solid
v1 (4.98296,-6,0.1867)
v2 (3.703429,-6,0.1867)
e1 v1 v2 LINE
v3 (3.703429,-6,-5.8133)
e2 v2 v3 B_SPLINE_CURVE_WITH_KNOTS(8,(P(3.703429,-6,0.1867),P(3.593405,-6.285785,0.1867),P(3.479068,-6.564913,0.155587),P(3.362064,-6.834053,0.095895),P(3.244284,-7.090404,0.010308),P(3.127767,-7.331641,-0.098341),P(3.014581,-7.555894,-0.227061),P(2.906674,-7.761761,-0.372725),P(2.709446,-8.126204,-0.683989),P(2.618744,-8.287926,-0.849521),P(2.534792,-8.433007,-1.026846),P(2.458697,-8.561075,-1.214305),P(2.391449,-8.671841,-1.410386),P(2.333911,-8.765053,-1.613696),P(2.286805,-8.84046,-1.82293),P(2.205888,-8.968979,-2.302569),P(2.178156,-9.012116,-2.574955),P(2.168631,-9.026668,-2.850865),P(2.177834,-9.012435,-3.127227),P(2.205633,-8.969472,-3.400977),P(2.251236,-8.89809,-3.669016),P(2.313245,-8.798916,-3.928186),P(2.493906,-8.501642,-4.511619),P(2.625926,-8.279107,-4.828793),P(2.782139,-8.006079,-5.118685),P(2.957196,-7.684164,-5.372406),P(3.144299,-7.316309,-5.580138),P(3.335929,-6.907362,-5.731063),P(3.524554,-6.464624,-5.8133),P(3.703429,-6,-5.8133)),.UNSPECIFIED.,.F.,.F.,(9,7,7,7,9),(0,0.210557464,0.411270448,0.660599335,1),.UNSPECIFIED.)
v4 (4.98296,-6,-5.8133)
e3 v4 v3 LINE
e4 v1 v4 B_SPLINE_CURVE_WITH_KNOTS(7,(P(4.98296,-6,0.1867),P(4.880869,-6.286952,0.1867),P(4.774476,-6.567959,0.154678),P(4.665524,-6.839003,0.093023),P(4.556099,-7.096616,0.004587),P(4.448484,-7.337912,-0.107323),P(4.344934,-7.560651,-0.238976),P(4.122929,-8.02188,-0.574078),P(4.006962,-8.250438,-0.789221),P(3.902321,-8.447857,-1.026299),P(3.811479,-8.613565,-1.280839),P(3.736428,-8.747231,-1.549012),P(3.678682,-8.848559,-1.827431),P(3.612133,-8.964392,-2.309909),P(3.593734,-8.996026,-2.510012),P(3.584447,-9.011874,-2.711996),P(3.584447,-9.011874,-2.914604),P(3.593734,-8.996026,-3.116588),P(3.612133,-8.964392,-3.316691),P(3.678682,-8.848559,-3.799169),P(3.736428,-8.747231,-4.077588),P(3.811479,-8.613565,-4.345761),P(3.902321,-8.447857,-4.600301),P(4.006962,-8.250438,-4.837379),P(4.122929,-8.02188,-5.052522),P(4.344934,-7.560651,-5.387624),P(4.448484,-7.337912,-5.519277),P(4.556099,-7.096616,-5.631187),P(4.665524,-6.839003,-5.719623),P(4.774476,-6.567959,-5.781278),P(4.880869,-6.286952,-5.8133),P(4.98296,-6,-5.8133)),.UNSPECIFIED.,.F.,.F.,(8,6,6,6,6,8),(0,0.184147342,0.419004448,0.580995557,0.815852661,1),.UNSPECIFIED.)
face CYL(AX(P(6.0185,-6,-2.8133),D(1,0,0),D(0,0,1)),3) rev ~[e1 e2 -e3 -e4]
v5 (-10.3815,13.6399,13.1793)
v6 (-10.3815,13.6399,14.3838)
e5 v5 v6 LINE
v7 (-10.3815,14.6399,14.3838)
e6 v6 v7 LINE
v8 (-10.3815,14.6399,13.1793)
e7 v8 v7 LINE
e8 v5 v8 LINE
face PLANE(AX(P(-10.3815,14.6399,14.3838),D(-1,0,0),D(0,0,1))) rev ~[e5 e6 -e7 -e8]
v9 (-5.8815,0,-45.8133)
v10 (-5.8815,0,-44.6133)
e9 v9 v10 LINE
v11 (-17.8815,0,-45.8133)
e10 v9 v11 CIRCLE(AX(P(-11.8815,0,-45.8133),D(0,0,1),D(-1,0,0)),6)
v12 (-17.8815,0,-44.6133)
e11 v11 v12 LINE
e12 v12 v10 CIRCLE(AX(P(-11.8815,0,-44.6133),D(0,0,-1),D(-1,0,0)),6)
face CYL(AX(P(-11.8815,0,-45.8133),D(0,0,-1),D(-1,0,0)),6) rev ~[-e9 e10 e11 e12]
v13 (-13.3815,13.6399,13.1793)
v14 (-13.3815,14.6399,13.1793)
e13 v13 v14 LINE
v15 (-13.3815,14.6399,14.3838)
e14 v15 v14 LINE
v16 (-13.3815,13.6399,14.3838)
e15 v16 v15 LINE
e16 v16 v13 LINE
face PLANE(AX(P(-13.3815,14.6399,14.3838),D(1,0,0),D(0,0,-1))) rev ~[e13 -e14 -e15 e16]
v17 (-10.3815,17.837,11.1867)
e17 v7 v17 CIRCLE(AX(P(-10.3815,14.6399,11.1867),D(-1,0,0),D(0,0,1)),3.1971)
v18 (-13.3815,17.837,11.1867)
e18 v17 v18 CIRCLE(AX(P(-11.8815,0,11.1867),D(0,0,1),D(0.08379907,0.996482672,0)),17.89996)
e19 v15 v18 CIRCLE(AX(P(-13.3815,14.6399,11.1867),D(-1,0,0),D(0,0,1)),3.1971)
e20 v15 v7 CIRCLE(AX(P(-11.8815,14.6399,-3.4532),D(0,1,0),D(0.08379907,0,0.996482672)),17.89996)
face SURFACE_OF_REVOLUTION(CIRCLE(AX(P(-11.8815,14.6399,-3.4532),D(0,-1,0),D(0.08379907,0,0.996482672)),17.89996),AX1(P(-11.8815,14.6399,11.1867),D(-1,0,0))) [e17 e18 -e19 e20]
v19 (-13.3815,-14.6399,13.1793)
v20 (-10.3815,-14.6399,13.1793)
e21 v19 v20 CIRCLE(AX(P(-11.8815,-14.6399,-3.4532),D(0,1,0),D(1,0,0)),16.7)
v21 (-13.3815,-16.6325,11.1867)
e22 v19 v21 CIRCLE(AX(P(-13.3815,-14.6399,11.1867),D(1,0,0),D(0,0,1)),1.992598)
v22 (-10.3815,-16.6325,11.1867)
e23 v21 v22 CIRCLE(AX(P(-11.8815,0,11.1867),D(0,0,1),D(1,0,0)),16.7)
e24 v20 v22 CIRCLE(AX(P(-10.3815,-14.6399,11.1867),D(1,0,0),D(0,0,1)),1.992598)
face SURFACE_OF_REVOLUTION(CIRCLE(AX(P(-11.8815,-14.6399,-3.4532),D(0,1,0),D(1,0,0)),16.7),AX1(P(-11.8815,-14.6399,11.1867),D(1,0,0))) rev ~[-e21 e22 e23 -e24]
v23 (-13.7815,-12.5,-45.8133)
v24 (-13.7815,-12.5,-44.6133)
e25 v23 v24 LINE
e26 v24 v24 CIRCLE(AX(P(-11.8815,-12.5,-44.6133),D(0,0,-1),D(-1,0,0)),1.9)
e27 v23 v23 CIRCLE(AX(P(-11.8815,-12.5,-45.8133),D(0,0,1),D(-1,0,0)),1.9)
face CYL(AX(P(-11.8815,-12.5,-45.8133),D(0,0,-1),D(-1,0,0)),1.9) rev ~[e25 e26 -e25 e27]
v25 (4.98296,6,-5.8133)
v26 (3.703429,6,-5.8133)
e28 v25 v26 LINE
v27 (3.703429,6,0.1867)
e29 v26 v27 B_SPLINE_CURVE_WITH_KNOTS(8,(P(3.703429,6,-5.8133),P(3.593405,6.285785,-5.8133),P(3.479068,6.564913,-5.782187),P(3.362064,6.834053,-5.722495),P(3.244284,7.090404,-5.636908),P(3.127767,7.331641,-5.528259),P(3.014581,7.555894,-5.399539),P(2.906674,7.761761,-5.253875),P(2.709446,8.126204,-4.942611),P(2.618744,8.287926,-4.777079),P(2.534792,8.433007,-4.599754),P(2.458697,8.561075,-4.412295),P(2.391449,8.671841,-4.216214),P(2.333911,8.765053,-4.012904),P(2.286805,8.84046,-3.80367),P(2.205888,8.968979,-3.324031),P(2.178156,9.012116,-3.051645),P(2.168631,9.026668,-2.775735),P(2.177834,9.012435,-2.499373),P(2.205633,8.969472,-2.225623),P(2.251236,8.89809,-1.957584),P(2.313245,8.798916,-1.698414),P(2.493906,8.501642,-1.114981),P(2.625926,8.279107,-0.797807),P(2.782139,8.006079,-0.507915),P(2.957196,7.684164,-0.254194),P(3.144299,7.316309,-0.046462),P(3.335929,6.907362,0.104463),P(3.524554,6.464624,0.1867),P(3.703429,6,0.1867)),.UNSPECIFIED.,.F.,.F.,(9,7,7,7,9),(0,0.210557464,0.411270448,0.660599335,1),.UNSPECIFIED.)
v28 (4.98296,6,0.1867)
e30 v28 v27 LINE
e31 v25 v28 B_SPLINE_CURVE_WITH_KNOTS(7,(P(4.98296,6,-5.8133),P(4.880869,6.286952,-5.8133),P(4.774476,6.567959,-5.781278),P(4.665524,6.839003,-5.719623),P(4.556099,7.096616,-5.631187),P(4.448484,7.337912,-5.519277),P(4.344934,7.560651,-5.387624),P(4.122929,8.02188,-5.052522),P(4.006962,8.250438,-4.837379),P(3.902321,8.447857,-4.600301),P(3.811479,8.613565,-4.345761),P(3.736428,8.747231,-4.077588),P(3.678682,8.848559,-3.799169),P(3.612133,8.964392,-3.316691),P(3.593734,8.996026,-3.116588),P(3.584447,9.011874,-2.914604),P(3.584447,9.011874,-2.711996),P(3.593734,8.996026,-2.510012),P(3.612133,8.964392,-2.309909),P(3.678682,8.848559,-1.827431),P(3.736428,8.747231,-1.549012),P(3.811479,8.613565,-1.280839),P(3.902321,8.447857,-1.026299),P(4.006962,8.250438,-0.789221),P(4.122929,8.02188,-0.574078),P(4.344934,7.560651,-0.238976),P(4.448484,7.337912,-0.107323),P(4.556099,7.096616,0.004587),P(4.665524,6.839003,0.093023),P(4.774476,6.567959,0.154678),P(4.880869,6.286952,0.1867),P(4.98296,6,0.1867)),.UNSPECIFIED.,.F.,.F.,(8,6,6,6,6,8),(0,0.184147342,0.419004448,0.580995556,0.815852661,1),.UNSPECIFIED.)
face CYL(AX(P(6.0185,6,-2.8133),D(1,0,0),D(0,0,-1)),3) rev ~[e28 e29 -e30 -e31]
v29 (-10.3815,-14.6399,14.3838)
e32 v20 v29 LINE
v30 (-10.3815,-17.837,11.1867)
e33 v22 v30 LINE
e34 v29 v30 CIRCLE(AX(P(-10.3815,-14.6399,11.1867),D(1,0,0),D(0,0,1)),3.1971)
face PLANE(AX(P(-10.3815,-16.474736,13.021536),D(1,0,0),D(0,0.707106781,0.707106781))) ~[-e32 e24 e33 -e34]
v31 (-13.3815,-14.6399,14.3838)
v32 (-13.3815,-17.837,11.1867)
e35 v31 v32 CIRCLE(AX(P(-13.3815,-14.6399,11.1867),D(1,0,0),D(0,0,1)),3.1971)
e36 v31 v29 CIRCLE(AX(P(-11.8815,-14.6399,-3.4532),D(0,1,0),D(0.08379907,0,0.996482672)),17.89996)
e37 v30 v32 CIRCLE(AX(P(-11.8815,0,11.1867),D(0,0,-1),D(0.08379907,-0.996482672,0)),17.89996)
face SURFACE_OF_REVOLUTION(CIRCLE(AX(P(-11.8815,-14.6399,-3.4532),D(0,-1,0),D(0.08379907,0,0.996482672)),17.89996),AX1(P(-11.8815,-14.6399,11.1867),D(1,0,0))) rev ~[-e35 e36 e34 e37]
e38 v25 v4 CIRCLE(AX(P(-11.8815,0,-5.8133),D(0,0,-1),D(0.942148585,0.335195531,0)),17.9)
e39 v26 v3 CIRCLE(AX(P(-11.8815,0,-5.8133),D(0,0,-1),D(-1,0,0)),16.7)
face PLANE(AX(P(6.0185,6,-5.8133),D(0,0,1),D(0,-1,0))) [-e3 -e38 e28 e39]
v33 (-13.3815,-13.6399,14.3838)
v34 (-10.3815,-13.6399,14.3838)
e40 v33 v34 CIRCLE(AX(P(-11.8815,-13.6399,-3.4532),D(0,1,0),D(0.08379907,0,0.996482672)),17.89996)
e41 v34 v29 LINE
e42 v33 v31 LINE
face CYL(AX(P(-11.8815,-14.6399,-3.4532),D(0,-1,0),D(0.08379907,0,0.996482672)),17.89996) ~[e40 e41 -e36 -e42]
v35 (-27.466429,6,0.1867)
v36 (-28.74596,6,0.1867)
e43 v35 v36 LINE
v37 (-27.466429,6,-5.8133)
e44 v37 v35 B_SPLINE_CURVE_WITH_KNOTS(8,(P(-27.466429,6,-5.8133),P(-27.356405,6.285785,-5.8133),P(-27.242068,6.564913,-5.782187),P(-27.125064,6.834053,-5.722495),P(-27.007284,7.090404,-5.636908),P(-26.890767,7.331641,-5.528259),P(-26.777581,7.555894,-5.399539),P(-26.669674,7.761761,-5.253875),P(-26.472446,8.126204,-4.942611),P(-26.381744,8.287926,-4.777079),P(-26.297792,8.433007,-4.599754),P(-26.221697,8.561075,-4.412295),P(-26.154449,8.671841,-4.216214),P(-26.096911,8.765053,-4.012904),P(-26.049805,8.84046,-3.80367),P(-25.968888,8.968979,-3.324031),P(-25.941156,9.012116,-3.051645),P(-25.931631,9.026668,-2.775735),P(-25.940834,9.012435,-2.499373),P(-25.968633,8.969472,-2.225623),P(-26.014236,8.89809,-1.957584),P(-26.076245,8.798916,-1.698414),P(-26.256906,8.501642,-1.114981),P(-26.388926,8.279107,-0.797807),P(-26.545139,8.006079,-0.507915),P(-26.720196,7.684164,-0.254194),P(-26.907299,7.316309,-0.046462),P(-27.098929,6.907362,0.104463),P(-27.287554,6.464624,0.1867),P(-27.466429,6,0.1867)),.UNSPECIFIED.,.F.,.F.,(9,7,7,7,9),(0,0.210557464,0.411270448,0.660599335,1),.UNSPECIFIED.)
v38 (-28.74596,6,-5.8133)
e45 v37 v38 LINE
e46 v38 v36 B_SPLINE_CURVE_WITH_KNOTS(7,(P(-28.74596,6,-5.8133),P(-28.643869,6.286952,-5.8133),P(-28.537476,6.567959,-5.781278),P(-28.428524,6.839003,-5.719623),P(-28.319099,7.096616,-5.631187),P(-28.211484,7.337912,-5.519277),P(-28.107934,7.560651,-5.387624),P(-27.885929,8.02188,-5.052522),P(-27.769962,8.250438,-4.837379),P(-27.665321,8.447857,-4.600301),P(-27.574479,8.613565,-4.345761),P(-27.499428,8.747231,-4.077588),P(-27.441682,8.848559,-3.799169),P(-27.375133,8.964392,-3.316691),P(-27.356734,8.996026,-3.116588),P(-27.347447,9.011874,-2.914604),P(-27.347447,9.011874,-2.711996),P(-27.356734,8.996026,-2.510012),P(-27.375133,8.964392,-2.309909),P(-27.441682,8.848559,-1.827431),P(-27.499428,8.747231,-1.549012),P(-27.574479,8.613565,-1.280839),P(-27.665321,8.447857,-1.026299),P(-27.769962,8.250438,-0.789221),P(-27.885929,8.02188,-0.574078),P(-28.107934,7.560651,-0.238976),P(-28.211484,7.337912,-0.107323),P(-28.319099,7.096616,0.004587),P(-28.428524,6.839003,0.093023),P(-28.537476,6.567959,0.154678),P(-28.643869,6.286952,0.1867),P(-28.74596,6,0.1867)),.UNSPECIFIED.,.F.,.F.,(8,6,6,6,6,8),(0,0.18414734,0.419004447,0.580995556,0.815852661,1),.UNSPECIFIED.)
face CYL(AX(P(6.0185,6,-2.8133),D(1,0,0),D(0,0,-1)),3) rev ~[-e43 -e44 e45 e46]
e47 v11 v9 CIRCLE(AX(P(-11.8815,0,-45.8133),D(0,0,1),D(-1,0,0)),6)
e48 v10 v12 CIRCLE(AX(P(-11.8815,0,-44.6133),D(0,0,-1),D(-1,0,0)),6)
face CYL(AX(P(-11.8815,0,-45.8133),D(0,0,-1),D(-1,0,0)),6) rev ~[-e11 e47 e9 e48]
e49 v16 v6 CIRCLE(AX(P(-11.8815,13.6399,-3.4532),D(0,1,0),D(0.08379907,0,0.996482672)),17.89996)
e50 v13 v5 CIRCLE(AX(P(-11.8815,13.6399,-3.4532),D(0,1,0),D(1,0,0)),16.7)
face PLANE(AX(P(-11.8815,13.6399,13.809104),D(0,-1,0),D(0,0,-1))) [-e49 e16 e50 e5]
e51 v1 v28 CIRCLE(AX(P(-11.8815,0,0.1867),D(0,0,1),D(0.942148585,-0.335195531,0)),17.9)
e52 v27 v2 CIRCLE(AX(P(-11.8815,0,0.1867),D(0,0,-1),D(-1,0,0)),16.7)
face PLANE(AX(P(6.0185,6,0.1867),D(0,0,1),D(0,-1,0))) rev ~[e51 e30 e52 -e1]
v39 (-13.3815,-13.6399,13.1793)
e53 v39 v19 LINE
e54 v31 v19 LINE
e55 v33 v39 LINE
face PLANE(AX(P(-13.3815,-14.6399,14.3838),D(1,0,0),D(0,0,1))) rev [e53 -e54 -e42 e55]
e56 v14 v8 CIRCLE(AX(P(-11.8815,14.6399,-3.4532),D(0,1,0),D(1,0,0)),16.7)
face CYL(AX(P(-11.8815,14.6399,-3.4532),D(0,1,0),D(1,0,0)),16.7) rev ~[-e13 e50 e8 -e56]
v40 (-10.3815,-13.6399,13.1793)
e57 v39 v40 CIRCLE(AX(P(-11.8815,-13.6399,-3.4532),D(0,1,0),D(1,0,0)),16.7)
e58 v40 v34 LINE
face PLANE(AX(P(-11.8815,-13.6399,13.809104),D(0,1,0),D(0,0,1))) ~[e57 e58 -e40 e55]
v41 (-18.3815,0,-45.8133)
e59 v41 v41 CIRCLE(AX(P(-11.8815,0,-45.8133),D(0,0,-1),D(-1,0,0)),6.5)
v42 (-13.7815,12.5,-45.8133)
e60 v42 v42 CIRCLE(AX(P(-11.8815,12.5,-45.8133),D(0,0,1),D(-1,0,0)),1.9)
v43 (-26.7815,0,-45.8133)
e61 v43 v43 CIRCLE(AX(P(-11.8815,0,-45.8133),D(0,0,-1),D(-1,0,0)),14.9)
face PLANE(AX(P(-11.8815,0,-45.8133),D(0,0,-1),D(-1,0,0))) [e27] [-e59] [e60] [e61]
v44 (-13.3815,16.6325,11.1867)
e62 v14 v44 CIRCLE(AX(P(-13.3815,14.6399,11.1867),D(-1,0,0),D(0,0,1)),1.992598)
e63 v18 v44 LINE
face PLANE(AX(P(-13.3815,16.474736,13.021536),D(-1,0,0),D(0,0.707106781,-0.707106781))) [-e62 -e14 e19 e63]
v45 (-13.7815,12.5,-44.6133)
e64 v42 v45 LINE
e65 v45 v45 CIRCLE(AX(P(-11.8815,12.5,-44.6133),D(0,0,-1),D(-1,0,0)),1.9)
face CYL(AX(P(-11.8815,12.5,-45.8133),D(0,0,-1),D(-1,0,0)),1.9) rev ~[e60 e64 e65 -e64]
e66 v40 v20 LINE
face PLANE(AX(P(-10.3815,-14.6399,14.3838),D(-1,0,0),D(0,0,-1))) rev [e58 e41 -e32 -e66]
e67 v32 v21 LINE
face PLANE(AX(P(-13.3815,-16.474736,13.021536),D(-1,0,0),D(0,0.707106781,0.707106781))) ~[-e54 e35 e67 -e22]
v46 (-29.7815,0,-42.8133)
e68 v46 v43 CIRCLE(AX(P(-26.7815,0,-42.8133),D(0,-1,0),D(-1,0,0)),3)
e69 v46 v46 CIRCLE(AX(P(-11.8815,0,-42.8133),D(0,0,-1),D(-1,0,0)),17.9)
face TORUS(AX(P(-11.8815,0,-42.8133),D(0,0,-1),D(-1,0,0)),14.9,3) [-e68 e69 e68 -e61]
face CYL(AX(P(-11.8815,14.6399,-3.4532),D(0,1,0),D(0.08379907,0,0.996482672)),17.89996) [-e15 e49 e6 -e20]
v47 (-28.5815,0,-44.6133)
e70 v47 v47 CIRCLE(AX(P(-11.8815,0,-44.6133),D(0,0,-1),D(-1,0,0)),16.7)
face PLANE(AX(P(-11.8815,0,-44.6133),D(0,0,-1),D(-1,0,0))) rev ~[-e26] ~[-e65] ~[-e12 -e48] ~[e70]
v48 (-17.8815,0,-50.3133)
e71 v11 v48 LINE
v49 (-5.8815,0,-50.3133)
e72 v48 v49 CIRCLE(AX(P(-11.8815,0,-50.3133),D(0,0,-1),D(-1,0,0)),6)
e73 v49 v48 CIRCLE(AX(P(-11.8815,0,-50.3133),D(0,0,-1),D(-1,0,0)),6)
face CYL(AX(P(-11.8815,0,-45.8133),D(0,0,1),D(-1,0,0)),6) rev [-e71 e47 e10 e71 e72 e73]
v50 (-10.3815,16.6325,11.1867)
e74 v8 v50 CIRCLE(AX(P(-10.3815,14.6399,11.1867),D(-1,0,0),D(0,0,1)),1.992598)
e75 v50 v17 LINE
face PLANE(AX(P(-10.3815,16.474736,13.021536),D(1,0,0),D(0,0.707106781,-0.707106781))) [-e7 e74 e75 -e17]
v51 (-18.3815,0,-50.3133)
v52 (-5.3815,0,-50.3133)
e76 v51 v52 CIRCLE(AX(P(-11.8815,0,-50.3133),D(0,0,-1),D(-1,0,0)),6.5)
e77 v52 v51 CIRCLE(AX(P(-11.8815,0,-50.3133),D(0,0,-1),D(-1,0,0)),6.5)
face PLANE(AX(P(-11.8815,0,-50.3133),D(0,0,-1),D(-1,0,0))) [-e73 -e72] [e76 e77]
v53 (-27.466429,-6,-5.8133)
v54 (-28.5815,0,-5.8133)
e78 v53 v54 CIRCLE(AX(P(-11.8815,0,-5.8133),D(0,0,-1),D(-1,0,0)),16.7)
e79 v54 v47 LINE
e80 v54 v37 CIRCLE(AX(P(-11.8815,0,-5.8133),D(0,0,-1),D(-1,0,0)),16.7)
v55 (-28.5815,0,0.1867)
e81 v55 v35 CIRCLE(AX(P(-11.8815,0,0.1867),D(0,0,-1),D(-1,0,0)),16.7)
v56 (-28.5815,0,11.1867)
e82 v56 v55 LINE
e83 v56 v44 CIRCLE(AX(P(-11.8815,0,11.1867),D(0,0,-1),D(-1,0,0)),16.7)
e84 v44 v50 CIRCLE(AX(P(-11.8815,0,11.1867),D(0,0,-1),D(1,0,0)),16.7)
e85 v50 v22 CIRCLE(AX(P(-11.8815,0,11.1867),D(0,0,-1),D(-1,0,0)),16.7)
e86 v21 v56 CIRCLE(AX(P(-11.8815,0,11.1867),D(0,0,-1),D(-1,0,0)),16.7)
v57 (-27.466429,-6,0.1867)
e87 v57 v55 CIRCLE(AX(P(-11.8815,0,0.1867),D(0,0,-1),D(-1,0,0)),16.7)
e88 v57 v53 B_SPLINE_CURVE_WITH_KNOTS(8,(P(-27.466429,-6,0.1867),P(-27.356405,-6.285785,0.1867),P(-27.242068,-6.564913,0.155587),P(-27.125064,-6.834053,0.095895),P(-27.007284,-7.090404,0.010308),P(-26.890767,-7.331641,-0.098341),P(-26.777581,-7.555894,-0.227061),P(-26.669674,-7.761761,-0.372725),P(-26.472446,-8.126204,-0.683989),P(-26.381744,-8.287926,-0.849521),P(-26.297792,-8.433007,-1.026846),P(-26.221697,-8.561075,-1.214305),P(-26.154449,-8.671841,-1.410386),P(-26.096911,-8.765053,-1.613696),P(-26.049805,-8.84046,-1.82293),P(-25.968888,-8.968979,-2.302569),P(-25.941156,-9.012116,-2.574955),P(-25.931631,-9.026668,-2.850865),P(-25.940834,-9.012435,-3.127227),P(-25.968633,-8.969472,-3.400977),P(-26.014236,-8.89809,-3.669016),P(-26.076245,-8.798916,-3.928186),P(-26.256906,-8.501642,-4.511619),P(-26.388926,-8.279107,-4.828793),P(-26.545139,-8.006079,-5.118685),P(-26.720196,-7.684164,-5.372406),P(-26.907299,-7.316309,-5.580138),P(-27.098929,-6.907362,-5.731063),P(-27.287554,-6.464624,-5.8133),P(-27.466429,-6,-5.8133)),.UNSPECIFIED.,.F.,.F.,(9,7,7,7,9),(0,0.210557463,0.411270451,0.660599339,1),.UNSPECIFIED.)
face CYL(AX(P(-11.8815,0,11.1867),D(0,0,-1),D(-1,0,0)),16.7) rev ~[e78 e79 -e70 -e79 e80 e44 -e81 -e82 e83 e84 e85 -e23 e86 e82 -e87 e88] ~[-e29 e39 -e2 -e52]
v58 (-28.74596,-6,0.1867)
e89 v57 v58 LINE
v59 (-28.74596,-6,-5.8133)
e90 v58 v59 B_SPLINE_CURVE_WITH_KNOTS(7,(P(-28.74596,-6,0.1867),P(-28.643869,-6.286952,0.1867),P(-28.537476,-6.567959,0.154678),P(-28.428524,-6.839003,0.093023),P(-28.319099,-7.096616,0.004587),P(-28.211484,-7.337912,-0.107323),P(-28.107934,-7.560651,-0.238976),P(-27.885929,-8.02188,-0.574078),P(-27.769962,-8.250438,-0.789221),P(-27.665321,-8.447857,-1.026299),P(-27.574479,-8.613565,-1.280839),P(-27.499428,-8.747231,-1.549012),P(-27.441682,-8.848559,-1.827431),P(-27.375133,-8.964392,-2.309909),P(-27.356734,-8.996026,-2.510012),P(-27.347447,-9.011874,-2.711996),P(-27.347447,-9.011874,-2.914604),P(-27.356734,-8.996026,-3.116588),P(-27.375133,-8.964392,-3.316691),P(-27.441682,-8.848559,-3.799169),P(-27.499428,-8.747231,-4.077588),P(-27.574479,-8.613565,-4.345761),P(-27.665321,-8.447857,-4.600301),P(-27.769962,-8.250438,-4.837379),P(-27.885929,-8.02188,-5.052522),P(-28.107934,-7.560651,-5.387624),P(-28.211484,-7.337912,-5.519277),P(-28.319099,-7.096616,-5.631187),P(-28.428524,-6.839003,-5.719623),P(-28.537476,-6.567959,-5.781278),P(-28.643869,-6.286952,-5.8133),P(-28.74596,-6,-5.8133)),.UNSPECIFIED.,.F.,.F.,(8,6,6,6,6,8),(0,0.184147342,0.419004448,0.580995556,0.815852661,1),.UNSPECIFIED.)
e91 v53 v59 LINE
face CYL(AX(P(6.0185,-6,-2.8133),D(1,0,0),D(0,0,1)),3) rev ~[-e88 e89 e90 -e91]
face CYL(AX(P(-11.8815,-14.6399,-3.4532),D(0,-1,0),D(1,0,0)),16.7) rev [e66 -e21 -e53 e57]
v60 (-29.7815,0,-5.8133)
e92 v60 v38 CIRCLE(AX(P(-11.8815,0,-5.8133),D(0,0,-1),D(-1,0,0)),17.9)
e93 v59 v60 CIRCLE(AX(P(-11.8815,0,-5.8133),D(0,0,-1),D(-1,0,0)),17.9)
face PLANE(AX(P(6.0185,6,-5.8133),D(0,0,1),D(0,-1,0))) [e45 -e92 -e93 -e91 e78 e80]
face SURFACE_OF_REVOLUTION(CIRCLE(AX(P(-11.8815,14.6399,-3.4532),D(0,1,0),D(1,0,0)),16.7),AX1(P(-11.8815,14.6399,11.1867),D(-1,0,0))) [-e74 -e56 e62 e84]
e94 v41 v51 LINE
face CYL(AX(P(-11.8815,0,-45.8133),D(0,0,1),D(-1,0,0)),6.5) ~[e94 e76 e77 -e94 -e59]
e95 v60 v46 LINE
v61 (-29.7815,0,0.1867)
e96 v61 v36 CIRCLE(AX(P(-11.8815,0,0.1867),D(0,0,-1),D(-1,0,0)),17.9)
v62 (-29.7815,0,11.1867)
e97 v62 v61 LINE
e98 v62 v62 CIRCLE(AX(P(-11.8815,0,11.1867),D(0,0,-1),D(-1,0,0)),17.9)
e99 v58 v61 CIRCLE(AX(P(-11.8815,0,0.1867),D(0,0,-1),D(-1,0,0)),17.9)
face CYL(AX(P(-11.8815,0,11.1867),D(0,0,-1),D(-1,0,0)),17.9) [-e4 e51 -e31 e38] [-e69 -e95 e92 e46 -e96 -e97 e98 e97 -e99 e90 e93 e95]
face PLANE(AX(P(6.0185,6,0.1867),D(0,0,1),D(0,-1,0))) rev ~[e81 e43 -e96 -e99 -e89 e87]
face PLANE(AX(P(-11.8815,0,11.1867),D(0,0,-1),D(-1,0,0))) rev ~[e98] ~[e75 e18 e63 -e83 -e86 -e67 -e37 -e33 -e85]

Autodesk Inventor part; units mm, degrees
ref_plane "YZ Plane" through (0, 0, 0) normal (1, 0, 0) x (0, 1, 0)
ref_plane "XZ Plane" through (0, 0, 0) normal (0, 1, 0) x (-1, 0, 0)
ref_plane "XY Plane" through (0, 0, 0) normal (0, 0, 1) x (1, 0, 0)
sketch "Sketch2" plane through (0, 0, 0) normal (0, 1, 0) x (-1, 0, 0)
  line L0 (29.7815, 11.1867) -> (29.7815, -45.8133)
  line L1 (29.7815, -45.8133) -> (11.8815, -45.8133)
  line L2 (29.7815, 11.1867) -> (28.5815, 11.1867)
  line L3 (28.5815, 11.1867) -> (28.5815, -44.6133)
  line L4 (28.5815, -44.6133) -> (12.6405, -44.6133)
  line L5 (12.6405, -44.6133) -> (11.8815, -44.6133)
  line L6 (11.8815, -44.6133) -> (11.8815, -45.8133)
  point P0 (0, 0)
  dimension "d5" = 57
  dimension "d6" = 17.9
  dimension "d7" = 1.2
  dimension "d8" = 1.2
revolve "Revolution1" add sketch "Sketch2" angle 360 about axis through (-11.8815, 0, -44.6133) along (0, 0, -1)
fillet "Fillet1" radius 3 1 edges at (6.0185, 0, -45.8133)
sketch "Sketch3" plane through (-11.8815, 0, -45.8133) normal (0, 0, -1) x (-1, 0, 0)
  circle A0 centre (0, 0) radius 6.5
  circle A1 centre (0, 0) radius 6
  circle A2 centre (0, 0) radius 12.5
  circle A3 centre (0, 12.5) radius 1.9
  circle A4 centre (0, -12.5) radius 1.9
  line L0 (0, 0) -> (-21.7112, 0)
  point P0 (-11.8815, 0)
  dimension "d17" = 25
  dimension "d11" = 13
  dimension "d12" = 12
  dimension "d18" = 3.8
  dimension "d21" = 360
extrude "Extrusion1" add sketch "Sketch3" along normal blind 4.5 contours A0
extrude "Extrusion2" cut sketch "Sketch3" against normal blind 4.5 contours A1
extrude "Extrusion3" cut sketch "Sketch3" against normal blind 4.5 contours A3 A2 | A2 A3 | A4 A2 | A2 A4
ref_plane "Work Plane1" through (6.0185, 0, -45.8133) normal (1, 0, 0) x (0, 1, 0)
sketch "Sketch4" plane through (6.0185, 0, -45.8133) normal (1, 0, 0) x (0, 1, 0)
  arc A0 (6, 40) -> (6, 46) centre (6, 43) ccw
  line L0 (0, 50.1877) -> (0, 37.5166)
  line L1 (6, 46) -> (0, 46)
  line L2 (6, 40) -> (0, 40)
  arc A1 (-6, 46) -> (-6, 40) centre (-6, 43) ccw
  line L3 (-6, 46) -> (0, 46)
  line L4 (-6, 40) -> (0, 40)
  line L5 (0, 40) -> (0, 0)
  line L6 (14.9, 0) -> (-14.9, 0) projected
  point P0 (0, 45.8133)
  dimension "d25" = 6
  dimension "d27" = 6
  dimension "d29" = 40
extrude "Extrusion4" cut sketch "Sketch4" against normal through all
sketch "Sketch5" plane through (-11.8815, 0, 11.1867) normal (0, 0, 1) x (1, 0, 0)
  circle A0 centre (0, 0) radius 16.7 projected
  line L0 (-1.5, 17.837) -> (-1.5, 16.6325)
  line L1 (1.5, 17.837) -> (1.5, 16.6325)
  arc A1 (1.5, 17.837) -> (-1.5, 17.837) centre (0, 0) ccw
  arc A2 (1.5, 16.6325) -> (-1.5, 16.6325) centre (0, 0) ccw
  point P0 (11.8815, 0)
  point P1 (1.5, 15.8007)
ref_plane "Work Plane2" through (-13.3815, 17.837, 11.1867) normal (-1, 0, 0) x (0, -1, 0)
sketch "Sketch6" plane through (-13.3815, 17.837, 11.1867) normal (-1, 0, 0) x (0, -1, 0)
  line L0 (1.1971, 0) -> (1.1971, 0)
  line L1 (3.1971, 2) -> (4.1971, 2)
  arc A0 (3.1971, 2) -> (1.1971, 0) centre (3.1971, 0) ccw
  point P0 (17.837, -11.1867)
  point P1 (1.1971, 2)
  dimension "d37" = 2
  dimension "d38" = 3
  dimension "d39" = 2
sweep "Sweep1" add profiles "Sketch5" path "Sketch6" path curves A0 L1 contours A0 L0 A1 L1
ref_plane "Work Plane4" through (-11.8815, 0, 11.1867) normal (0, -1, 0) x (1, 0, 0)
mirror "Mirror1" about plane through (-11.8815, 0, 11.1867) normal (0, -1, 0) of "Sweep1"
properties part number "Haz"
